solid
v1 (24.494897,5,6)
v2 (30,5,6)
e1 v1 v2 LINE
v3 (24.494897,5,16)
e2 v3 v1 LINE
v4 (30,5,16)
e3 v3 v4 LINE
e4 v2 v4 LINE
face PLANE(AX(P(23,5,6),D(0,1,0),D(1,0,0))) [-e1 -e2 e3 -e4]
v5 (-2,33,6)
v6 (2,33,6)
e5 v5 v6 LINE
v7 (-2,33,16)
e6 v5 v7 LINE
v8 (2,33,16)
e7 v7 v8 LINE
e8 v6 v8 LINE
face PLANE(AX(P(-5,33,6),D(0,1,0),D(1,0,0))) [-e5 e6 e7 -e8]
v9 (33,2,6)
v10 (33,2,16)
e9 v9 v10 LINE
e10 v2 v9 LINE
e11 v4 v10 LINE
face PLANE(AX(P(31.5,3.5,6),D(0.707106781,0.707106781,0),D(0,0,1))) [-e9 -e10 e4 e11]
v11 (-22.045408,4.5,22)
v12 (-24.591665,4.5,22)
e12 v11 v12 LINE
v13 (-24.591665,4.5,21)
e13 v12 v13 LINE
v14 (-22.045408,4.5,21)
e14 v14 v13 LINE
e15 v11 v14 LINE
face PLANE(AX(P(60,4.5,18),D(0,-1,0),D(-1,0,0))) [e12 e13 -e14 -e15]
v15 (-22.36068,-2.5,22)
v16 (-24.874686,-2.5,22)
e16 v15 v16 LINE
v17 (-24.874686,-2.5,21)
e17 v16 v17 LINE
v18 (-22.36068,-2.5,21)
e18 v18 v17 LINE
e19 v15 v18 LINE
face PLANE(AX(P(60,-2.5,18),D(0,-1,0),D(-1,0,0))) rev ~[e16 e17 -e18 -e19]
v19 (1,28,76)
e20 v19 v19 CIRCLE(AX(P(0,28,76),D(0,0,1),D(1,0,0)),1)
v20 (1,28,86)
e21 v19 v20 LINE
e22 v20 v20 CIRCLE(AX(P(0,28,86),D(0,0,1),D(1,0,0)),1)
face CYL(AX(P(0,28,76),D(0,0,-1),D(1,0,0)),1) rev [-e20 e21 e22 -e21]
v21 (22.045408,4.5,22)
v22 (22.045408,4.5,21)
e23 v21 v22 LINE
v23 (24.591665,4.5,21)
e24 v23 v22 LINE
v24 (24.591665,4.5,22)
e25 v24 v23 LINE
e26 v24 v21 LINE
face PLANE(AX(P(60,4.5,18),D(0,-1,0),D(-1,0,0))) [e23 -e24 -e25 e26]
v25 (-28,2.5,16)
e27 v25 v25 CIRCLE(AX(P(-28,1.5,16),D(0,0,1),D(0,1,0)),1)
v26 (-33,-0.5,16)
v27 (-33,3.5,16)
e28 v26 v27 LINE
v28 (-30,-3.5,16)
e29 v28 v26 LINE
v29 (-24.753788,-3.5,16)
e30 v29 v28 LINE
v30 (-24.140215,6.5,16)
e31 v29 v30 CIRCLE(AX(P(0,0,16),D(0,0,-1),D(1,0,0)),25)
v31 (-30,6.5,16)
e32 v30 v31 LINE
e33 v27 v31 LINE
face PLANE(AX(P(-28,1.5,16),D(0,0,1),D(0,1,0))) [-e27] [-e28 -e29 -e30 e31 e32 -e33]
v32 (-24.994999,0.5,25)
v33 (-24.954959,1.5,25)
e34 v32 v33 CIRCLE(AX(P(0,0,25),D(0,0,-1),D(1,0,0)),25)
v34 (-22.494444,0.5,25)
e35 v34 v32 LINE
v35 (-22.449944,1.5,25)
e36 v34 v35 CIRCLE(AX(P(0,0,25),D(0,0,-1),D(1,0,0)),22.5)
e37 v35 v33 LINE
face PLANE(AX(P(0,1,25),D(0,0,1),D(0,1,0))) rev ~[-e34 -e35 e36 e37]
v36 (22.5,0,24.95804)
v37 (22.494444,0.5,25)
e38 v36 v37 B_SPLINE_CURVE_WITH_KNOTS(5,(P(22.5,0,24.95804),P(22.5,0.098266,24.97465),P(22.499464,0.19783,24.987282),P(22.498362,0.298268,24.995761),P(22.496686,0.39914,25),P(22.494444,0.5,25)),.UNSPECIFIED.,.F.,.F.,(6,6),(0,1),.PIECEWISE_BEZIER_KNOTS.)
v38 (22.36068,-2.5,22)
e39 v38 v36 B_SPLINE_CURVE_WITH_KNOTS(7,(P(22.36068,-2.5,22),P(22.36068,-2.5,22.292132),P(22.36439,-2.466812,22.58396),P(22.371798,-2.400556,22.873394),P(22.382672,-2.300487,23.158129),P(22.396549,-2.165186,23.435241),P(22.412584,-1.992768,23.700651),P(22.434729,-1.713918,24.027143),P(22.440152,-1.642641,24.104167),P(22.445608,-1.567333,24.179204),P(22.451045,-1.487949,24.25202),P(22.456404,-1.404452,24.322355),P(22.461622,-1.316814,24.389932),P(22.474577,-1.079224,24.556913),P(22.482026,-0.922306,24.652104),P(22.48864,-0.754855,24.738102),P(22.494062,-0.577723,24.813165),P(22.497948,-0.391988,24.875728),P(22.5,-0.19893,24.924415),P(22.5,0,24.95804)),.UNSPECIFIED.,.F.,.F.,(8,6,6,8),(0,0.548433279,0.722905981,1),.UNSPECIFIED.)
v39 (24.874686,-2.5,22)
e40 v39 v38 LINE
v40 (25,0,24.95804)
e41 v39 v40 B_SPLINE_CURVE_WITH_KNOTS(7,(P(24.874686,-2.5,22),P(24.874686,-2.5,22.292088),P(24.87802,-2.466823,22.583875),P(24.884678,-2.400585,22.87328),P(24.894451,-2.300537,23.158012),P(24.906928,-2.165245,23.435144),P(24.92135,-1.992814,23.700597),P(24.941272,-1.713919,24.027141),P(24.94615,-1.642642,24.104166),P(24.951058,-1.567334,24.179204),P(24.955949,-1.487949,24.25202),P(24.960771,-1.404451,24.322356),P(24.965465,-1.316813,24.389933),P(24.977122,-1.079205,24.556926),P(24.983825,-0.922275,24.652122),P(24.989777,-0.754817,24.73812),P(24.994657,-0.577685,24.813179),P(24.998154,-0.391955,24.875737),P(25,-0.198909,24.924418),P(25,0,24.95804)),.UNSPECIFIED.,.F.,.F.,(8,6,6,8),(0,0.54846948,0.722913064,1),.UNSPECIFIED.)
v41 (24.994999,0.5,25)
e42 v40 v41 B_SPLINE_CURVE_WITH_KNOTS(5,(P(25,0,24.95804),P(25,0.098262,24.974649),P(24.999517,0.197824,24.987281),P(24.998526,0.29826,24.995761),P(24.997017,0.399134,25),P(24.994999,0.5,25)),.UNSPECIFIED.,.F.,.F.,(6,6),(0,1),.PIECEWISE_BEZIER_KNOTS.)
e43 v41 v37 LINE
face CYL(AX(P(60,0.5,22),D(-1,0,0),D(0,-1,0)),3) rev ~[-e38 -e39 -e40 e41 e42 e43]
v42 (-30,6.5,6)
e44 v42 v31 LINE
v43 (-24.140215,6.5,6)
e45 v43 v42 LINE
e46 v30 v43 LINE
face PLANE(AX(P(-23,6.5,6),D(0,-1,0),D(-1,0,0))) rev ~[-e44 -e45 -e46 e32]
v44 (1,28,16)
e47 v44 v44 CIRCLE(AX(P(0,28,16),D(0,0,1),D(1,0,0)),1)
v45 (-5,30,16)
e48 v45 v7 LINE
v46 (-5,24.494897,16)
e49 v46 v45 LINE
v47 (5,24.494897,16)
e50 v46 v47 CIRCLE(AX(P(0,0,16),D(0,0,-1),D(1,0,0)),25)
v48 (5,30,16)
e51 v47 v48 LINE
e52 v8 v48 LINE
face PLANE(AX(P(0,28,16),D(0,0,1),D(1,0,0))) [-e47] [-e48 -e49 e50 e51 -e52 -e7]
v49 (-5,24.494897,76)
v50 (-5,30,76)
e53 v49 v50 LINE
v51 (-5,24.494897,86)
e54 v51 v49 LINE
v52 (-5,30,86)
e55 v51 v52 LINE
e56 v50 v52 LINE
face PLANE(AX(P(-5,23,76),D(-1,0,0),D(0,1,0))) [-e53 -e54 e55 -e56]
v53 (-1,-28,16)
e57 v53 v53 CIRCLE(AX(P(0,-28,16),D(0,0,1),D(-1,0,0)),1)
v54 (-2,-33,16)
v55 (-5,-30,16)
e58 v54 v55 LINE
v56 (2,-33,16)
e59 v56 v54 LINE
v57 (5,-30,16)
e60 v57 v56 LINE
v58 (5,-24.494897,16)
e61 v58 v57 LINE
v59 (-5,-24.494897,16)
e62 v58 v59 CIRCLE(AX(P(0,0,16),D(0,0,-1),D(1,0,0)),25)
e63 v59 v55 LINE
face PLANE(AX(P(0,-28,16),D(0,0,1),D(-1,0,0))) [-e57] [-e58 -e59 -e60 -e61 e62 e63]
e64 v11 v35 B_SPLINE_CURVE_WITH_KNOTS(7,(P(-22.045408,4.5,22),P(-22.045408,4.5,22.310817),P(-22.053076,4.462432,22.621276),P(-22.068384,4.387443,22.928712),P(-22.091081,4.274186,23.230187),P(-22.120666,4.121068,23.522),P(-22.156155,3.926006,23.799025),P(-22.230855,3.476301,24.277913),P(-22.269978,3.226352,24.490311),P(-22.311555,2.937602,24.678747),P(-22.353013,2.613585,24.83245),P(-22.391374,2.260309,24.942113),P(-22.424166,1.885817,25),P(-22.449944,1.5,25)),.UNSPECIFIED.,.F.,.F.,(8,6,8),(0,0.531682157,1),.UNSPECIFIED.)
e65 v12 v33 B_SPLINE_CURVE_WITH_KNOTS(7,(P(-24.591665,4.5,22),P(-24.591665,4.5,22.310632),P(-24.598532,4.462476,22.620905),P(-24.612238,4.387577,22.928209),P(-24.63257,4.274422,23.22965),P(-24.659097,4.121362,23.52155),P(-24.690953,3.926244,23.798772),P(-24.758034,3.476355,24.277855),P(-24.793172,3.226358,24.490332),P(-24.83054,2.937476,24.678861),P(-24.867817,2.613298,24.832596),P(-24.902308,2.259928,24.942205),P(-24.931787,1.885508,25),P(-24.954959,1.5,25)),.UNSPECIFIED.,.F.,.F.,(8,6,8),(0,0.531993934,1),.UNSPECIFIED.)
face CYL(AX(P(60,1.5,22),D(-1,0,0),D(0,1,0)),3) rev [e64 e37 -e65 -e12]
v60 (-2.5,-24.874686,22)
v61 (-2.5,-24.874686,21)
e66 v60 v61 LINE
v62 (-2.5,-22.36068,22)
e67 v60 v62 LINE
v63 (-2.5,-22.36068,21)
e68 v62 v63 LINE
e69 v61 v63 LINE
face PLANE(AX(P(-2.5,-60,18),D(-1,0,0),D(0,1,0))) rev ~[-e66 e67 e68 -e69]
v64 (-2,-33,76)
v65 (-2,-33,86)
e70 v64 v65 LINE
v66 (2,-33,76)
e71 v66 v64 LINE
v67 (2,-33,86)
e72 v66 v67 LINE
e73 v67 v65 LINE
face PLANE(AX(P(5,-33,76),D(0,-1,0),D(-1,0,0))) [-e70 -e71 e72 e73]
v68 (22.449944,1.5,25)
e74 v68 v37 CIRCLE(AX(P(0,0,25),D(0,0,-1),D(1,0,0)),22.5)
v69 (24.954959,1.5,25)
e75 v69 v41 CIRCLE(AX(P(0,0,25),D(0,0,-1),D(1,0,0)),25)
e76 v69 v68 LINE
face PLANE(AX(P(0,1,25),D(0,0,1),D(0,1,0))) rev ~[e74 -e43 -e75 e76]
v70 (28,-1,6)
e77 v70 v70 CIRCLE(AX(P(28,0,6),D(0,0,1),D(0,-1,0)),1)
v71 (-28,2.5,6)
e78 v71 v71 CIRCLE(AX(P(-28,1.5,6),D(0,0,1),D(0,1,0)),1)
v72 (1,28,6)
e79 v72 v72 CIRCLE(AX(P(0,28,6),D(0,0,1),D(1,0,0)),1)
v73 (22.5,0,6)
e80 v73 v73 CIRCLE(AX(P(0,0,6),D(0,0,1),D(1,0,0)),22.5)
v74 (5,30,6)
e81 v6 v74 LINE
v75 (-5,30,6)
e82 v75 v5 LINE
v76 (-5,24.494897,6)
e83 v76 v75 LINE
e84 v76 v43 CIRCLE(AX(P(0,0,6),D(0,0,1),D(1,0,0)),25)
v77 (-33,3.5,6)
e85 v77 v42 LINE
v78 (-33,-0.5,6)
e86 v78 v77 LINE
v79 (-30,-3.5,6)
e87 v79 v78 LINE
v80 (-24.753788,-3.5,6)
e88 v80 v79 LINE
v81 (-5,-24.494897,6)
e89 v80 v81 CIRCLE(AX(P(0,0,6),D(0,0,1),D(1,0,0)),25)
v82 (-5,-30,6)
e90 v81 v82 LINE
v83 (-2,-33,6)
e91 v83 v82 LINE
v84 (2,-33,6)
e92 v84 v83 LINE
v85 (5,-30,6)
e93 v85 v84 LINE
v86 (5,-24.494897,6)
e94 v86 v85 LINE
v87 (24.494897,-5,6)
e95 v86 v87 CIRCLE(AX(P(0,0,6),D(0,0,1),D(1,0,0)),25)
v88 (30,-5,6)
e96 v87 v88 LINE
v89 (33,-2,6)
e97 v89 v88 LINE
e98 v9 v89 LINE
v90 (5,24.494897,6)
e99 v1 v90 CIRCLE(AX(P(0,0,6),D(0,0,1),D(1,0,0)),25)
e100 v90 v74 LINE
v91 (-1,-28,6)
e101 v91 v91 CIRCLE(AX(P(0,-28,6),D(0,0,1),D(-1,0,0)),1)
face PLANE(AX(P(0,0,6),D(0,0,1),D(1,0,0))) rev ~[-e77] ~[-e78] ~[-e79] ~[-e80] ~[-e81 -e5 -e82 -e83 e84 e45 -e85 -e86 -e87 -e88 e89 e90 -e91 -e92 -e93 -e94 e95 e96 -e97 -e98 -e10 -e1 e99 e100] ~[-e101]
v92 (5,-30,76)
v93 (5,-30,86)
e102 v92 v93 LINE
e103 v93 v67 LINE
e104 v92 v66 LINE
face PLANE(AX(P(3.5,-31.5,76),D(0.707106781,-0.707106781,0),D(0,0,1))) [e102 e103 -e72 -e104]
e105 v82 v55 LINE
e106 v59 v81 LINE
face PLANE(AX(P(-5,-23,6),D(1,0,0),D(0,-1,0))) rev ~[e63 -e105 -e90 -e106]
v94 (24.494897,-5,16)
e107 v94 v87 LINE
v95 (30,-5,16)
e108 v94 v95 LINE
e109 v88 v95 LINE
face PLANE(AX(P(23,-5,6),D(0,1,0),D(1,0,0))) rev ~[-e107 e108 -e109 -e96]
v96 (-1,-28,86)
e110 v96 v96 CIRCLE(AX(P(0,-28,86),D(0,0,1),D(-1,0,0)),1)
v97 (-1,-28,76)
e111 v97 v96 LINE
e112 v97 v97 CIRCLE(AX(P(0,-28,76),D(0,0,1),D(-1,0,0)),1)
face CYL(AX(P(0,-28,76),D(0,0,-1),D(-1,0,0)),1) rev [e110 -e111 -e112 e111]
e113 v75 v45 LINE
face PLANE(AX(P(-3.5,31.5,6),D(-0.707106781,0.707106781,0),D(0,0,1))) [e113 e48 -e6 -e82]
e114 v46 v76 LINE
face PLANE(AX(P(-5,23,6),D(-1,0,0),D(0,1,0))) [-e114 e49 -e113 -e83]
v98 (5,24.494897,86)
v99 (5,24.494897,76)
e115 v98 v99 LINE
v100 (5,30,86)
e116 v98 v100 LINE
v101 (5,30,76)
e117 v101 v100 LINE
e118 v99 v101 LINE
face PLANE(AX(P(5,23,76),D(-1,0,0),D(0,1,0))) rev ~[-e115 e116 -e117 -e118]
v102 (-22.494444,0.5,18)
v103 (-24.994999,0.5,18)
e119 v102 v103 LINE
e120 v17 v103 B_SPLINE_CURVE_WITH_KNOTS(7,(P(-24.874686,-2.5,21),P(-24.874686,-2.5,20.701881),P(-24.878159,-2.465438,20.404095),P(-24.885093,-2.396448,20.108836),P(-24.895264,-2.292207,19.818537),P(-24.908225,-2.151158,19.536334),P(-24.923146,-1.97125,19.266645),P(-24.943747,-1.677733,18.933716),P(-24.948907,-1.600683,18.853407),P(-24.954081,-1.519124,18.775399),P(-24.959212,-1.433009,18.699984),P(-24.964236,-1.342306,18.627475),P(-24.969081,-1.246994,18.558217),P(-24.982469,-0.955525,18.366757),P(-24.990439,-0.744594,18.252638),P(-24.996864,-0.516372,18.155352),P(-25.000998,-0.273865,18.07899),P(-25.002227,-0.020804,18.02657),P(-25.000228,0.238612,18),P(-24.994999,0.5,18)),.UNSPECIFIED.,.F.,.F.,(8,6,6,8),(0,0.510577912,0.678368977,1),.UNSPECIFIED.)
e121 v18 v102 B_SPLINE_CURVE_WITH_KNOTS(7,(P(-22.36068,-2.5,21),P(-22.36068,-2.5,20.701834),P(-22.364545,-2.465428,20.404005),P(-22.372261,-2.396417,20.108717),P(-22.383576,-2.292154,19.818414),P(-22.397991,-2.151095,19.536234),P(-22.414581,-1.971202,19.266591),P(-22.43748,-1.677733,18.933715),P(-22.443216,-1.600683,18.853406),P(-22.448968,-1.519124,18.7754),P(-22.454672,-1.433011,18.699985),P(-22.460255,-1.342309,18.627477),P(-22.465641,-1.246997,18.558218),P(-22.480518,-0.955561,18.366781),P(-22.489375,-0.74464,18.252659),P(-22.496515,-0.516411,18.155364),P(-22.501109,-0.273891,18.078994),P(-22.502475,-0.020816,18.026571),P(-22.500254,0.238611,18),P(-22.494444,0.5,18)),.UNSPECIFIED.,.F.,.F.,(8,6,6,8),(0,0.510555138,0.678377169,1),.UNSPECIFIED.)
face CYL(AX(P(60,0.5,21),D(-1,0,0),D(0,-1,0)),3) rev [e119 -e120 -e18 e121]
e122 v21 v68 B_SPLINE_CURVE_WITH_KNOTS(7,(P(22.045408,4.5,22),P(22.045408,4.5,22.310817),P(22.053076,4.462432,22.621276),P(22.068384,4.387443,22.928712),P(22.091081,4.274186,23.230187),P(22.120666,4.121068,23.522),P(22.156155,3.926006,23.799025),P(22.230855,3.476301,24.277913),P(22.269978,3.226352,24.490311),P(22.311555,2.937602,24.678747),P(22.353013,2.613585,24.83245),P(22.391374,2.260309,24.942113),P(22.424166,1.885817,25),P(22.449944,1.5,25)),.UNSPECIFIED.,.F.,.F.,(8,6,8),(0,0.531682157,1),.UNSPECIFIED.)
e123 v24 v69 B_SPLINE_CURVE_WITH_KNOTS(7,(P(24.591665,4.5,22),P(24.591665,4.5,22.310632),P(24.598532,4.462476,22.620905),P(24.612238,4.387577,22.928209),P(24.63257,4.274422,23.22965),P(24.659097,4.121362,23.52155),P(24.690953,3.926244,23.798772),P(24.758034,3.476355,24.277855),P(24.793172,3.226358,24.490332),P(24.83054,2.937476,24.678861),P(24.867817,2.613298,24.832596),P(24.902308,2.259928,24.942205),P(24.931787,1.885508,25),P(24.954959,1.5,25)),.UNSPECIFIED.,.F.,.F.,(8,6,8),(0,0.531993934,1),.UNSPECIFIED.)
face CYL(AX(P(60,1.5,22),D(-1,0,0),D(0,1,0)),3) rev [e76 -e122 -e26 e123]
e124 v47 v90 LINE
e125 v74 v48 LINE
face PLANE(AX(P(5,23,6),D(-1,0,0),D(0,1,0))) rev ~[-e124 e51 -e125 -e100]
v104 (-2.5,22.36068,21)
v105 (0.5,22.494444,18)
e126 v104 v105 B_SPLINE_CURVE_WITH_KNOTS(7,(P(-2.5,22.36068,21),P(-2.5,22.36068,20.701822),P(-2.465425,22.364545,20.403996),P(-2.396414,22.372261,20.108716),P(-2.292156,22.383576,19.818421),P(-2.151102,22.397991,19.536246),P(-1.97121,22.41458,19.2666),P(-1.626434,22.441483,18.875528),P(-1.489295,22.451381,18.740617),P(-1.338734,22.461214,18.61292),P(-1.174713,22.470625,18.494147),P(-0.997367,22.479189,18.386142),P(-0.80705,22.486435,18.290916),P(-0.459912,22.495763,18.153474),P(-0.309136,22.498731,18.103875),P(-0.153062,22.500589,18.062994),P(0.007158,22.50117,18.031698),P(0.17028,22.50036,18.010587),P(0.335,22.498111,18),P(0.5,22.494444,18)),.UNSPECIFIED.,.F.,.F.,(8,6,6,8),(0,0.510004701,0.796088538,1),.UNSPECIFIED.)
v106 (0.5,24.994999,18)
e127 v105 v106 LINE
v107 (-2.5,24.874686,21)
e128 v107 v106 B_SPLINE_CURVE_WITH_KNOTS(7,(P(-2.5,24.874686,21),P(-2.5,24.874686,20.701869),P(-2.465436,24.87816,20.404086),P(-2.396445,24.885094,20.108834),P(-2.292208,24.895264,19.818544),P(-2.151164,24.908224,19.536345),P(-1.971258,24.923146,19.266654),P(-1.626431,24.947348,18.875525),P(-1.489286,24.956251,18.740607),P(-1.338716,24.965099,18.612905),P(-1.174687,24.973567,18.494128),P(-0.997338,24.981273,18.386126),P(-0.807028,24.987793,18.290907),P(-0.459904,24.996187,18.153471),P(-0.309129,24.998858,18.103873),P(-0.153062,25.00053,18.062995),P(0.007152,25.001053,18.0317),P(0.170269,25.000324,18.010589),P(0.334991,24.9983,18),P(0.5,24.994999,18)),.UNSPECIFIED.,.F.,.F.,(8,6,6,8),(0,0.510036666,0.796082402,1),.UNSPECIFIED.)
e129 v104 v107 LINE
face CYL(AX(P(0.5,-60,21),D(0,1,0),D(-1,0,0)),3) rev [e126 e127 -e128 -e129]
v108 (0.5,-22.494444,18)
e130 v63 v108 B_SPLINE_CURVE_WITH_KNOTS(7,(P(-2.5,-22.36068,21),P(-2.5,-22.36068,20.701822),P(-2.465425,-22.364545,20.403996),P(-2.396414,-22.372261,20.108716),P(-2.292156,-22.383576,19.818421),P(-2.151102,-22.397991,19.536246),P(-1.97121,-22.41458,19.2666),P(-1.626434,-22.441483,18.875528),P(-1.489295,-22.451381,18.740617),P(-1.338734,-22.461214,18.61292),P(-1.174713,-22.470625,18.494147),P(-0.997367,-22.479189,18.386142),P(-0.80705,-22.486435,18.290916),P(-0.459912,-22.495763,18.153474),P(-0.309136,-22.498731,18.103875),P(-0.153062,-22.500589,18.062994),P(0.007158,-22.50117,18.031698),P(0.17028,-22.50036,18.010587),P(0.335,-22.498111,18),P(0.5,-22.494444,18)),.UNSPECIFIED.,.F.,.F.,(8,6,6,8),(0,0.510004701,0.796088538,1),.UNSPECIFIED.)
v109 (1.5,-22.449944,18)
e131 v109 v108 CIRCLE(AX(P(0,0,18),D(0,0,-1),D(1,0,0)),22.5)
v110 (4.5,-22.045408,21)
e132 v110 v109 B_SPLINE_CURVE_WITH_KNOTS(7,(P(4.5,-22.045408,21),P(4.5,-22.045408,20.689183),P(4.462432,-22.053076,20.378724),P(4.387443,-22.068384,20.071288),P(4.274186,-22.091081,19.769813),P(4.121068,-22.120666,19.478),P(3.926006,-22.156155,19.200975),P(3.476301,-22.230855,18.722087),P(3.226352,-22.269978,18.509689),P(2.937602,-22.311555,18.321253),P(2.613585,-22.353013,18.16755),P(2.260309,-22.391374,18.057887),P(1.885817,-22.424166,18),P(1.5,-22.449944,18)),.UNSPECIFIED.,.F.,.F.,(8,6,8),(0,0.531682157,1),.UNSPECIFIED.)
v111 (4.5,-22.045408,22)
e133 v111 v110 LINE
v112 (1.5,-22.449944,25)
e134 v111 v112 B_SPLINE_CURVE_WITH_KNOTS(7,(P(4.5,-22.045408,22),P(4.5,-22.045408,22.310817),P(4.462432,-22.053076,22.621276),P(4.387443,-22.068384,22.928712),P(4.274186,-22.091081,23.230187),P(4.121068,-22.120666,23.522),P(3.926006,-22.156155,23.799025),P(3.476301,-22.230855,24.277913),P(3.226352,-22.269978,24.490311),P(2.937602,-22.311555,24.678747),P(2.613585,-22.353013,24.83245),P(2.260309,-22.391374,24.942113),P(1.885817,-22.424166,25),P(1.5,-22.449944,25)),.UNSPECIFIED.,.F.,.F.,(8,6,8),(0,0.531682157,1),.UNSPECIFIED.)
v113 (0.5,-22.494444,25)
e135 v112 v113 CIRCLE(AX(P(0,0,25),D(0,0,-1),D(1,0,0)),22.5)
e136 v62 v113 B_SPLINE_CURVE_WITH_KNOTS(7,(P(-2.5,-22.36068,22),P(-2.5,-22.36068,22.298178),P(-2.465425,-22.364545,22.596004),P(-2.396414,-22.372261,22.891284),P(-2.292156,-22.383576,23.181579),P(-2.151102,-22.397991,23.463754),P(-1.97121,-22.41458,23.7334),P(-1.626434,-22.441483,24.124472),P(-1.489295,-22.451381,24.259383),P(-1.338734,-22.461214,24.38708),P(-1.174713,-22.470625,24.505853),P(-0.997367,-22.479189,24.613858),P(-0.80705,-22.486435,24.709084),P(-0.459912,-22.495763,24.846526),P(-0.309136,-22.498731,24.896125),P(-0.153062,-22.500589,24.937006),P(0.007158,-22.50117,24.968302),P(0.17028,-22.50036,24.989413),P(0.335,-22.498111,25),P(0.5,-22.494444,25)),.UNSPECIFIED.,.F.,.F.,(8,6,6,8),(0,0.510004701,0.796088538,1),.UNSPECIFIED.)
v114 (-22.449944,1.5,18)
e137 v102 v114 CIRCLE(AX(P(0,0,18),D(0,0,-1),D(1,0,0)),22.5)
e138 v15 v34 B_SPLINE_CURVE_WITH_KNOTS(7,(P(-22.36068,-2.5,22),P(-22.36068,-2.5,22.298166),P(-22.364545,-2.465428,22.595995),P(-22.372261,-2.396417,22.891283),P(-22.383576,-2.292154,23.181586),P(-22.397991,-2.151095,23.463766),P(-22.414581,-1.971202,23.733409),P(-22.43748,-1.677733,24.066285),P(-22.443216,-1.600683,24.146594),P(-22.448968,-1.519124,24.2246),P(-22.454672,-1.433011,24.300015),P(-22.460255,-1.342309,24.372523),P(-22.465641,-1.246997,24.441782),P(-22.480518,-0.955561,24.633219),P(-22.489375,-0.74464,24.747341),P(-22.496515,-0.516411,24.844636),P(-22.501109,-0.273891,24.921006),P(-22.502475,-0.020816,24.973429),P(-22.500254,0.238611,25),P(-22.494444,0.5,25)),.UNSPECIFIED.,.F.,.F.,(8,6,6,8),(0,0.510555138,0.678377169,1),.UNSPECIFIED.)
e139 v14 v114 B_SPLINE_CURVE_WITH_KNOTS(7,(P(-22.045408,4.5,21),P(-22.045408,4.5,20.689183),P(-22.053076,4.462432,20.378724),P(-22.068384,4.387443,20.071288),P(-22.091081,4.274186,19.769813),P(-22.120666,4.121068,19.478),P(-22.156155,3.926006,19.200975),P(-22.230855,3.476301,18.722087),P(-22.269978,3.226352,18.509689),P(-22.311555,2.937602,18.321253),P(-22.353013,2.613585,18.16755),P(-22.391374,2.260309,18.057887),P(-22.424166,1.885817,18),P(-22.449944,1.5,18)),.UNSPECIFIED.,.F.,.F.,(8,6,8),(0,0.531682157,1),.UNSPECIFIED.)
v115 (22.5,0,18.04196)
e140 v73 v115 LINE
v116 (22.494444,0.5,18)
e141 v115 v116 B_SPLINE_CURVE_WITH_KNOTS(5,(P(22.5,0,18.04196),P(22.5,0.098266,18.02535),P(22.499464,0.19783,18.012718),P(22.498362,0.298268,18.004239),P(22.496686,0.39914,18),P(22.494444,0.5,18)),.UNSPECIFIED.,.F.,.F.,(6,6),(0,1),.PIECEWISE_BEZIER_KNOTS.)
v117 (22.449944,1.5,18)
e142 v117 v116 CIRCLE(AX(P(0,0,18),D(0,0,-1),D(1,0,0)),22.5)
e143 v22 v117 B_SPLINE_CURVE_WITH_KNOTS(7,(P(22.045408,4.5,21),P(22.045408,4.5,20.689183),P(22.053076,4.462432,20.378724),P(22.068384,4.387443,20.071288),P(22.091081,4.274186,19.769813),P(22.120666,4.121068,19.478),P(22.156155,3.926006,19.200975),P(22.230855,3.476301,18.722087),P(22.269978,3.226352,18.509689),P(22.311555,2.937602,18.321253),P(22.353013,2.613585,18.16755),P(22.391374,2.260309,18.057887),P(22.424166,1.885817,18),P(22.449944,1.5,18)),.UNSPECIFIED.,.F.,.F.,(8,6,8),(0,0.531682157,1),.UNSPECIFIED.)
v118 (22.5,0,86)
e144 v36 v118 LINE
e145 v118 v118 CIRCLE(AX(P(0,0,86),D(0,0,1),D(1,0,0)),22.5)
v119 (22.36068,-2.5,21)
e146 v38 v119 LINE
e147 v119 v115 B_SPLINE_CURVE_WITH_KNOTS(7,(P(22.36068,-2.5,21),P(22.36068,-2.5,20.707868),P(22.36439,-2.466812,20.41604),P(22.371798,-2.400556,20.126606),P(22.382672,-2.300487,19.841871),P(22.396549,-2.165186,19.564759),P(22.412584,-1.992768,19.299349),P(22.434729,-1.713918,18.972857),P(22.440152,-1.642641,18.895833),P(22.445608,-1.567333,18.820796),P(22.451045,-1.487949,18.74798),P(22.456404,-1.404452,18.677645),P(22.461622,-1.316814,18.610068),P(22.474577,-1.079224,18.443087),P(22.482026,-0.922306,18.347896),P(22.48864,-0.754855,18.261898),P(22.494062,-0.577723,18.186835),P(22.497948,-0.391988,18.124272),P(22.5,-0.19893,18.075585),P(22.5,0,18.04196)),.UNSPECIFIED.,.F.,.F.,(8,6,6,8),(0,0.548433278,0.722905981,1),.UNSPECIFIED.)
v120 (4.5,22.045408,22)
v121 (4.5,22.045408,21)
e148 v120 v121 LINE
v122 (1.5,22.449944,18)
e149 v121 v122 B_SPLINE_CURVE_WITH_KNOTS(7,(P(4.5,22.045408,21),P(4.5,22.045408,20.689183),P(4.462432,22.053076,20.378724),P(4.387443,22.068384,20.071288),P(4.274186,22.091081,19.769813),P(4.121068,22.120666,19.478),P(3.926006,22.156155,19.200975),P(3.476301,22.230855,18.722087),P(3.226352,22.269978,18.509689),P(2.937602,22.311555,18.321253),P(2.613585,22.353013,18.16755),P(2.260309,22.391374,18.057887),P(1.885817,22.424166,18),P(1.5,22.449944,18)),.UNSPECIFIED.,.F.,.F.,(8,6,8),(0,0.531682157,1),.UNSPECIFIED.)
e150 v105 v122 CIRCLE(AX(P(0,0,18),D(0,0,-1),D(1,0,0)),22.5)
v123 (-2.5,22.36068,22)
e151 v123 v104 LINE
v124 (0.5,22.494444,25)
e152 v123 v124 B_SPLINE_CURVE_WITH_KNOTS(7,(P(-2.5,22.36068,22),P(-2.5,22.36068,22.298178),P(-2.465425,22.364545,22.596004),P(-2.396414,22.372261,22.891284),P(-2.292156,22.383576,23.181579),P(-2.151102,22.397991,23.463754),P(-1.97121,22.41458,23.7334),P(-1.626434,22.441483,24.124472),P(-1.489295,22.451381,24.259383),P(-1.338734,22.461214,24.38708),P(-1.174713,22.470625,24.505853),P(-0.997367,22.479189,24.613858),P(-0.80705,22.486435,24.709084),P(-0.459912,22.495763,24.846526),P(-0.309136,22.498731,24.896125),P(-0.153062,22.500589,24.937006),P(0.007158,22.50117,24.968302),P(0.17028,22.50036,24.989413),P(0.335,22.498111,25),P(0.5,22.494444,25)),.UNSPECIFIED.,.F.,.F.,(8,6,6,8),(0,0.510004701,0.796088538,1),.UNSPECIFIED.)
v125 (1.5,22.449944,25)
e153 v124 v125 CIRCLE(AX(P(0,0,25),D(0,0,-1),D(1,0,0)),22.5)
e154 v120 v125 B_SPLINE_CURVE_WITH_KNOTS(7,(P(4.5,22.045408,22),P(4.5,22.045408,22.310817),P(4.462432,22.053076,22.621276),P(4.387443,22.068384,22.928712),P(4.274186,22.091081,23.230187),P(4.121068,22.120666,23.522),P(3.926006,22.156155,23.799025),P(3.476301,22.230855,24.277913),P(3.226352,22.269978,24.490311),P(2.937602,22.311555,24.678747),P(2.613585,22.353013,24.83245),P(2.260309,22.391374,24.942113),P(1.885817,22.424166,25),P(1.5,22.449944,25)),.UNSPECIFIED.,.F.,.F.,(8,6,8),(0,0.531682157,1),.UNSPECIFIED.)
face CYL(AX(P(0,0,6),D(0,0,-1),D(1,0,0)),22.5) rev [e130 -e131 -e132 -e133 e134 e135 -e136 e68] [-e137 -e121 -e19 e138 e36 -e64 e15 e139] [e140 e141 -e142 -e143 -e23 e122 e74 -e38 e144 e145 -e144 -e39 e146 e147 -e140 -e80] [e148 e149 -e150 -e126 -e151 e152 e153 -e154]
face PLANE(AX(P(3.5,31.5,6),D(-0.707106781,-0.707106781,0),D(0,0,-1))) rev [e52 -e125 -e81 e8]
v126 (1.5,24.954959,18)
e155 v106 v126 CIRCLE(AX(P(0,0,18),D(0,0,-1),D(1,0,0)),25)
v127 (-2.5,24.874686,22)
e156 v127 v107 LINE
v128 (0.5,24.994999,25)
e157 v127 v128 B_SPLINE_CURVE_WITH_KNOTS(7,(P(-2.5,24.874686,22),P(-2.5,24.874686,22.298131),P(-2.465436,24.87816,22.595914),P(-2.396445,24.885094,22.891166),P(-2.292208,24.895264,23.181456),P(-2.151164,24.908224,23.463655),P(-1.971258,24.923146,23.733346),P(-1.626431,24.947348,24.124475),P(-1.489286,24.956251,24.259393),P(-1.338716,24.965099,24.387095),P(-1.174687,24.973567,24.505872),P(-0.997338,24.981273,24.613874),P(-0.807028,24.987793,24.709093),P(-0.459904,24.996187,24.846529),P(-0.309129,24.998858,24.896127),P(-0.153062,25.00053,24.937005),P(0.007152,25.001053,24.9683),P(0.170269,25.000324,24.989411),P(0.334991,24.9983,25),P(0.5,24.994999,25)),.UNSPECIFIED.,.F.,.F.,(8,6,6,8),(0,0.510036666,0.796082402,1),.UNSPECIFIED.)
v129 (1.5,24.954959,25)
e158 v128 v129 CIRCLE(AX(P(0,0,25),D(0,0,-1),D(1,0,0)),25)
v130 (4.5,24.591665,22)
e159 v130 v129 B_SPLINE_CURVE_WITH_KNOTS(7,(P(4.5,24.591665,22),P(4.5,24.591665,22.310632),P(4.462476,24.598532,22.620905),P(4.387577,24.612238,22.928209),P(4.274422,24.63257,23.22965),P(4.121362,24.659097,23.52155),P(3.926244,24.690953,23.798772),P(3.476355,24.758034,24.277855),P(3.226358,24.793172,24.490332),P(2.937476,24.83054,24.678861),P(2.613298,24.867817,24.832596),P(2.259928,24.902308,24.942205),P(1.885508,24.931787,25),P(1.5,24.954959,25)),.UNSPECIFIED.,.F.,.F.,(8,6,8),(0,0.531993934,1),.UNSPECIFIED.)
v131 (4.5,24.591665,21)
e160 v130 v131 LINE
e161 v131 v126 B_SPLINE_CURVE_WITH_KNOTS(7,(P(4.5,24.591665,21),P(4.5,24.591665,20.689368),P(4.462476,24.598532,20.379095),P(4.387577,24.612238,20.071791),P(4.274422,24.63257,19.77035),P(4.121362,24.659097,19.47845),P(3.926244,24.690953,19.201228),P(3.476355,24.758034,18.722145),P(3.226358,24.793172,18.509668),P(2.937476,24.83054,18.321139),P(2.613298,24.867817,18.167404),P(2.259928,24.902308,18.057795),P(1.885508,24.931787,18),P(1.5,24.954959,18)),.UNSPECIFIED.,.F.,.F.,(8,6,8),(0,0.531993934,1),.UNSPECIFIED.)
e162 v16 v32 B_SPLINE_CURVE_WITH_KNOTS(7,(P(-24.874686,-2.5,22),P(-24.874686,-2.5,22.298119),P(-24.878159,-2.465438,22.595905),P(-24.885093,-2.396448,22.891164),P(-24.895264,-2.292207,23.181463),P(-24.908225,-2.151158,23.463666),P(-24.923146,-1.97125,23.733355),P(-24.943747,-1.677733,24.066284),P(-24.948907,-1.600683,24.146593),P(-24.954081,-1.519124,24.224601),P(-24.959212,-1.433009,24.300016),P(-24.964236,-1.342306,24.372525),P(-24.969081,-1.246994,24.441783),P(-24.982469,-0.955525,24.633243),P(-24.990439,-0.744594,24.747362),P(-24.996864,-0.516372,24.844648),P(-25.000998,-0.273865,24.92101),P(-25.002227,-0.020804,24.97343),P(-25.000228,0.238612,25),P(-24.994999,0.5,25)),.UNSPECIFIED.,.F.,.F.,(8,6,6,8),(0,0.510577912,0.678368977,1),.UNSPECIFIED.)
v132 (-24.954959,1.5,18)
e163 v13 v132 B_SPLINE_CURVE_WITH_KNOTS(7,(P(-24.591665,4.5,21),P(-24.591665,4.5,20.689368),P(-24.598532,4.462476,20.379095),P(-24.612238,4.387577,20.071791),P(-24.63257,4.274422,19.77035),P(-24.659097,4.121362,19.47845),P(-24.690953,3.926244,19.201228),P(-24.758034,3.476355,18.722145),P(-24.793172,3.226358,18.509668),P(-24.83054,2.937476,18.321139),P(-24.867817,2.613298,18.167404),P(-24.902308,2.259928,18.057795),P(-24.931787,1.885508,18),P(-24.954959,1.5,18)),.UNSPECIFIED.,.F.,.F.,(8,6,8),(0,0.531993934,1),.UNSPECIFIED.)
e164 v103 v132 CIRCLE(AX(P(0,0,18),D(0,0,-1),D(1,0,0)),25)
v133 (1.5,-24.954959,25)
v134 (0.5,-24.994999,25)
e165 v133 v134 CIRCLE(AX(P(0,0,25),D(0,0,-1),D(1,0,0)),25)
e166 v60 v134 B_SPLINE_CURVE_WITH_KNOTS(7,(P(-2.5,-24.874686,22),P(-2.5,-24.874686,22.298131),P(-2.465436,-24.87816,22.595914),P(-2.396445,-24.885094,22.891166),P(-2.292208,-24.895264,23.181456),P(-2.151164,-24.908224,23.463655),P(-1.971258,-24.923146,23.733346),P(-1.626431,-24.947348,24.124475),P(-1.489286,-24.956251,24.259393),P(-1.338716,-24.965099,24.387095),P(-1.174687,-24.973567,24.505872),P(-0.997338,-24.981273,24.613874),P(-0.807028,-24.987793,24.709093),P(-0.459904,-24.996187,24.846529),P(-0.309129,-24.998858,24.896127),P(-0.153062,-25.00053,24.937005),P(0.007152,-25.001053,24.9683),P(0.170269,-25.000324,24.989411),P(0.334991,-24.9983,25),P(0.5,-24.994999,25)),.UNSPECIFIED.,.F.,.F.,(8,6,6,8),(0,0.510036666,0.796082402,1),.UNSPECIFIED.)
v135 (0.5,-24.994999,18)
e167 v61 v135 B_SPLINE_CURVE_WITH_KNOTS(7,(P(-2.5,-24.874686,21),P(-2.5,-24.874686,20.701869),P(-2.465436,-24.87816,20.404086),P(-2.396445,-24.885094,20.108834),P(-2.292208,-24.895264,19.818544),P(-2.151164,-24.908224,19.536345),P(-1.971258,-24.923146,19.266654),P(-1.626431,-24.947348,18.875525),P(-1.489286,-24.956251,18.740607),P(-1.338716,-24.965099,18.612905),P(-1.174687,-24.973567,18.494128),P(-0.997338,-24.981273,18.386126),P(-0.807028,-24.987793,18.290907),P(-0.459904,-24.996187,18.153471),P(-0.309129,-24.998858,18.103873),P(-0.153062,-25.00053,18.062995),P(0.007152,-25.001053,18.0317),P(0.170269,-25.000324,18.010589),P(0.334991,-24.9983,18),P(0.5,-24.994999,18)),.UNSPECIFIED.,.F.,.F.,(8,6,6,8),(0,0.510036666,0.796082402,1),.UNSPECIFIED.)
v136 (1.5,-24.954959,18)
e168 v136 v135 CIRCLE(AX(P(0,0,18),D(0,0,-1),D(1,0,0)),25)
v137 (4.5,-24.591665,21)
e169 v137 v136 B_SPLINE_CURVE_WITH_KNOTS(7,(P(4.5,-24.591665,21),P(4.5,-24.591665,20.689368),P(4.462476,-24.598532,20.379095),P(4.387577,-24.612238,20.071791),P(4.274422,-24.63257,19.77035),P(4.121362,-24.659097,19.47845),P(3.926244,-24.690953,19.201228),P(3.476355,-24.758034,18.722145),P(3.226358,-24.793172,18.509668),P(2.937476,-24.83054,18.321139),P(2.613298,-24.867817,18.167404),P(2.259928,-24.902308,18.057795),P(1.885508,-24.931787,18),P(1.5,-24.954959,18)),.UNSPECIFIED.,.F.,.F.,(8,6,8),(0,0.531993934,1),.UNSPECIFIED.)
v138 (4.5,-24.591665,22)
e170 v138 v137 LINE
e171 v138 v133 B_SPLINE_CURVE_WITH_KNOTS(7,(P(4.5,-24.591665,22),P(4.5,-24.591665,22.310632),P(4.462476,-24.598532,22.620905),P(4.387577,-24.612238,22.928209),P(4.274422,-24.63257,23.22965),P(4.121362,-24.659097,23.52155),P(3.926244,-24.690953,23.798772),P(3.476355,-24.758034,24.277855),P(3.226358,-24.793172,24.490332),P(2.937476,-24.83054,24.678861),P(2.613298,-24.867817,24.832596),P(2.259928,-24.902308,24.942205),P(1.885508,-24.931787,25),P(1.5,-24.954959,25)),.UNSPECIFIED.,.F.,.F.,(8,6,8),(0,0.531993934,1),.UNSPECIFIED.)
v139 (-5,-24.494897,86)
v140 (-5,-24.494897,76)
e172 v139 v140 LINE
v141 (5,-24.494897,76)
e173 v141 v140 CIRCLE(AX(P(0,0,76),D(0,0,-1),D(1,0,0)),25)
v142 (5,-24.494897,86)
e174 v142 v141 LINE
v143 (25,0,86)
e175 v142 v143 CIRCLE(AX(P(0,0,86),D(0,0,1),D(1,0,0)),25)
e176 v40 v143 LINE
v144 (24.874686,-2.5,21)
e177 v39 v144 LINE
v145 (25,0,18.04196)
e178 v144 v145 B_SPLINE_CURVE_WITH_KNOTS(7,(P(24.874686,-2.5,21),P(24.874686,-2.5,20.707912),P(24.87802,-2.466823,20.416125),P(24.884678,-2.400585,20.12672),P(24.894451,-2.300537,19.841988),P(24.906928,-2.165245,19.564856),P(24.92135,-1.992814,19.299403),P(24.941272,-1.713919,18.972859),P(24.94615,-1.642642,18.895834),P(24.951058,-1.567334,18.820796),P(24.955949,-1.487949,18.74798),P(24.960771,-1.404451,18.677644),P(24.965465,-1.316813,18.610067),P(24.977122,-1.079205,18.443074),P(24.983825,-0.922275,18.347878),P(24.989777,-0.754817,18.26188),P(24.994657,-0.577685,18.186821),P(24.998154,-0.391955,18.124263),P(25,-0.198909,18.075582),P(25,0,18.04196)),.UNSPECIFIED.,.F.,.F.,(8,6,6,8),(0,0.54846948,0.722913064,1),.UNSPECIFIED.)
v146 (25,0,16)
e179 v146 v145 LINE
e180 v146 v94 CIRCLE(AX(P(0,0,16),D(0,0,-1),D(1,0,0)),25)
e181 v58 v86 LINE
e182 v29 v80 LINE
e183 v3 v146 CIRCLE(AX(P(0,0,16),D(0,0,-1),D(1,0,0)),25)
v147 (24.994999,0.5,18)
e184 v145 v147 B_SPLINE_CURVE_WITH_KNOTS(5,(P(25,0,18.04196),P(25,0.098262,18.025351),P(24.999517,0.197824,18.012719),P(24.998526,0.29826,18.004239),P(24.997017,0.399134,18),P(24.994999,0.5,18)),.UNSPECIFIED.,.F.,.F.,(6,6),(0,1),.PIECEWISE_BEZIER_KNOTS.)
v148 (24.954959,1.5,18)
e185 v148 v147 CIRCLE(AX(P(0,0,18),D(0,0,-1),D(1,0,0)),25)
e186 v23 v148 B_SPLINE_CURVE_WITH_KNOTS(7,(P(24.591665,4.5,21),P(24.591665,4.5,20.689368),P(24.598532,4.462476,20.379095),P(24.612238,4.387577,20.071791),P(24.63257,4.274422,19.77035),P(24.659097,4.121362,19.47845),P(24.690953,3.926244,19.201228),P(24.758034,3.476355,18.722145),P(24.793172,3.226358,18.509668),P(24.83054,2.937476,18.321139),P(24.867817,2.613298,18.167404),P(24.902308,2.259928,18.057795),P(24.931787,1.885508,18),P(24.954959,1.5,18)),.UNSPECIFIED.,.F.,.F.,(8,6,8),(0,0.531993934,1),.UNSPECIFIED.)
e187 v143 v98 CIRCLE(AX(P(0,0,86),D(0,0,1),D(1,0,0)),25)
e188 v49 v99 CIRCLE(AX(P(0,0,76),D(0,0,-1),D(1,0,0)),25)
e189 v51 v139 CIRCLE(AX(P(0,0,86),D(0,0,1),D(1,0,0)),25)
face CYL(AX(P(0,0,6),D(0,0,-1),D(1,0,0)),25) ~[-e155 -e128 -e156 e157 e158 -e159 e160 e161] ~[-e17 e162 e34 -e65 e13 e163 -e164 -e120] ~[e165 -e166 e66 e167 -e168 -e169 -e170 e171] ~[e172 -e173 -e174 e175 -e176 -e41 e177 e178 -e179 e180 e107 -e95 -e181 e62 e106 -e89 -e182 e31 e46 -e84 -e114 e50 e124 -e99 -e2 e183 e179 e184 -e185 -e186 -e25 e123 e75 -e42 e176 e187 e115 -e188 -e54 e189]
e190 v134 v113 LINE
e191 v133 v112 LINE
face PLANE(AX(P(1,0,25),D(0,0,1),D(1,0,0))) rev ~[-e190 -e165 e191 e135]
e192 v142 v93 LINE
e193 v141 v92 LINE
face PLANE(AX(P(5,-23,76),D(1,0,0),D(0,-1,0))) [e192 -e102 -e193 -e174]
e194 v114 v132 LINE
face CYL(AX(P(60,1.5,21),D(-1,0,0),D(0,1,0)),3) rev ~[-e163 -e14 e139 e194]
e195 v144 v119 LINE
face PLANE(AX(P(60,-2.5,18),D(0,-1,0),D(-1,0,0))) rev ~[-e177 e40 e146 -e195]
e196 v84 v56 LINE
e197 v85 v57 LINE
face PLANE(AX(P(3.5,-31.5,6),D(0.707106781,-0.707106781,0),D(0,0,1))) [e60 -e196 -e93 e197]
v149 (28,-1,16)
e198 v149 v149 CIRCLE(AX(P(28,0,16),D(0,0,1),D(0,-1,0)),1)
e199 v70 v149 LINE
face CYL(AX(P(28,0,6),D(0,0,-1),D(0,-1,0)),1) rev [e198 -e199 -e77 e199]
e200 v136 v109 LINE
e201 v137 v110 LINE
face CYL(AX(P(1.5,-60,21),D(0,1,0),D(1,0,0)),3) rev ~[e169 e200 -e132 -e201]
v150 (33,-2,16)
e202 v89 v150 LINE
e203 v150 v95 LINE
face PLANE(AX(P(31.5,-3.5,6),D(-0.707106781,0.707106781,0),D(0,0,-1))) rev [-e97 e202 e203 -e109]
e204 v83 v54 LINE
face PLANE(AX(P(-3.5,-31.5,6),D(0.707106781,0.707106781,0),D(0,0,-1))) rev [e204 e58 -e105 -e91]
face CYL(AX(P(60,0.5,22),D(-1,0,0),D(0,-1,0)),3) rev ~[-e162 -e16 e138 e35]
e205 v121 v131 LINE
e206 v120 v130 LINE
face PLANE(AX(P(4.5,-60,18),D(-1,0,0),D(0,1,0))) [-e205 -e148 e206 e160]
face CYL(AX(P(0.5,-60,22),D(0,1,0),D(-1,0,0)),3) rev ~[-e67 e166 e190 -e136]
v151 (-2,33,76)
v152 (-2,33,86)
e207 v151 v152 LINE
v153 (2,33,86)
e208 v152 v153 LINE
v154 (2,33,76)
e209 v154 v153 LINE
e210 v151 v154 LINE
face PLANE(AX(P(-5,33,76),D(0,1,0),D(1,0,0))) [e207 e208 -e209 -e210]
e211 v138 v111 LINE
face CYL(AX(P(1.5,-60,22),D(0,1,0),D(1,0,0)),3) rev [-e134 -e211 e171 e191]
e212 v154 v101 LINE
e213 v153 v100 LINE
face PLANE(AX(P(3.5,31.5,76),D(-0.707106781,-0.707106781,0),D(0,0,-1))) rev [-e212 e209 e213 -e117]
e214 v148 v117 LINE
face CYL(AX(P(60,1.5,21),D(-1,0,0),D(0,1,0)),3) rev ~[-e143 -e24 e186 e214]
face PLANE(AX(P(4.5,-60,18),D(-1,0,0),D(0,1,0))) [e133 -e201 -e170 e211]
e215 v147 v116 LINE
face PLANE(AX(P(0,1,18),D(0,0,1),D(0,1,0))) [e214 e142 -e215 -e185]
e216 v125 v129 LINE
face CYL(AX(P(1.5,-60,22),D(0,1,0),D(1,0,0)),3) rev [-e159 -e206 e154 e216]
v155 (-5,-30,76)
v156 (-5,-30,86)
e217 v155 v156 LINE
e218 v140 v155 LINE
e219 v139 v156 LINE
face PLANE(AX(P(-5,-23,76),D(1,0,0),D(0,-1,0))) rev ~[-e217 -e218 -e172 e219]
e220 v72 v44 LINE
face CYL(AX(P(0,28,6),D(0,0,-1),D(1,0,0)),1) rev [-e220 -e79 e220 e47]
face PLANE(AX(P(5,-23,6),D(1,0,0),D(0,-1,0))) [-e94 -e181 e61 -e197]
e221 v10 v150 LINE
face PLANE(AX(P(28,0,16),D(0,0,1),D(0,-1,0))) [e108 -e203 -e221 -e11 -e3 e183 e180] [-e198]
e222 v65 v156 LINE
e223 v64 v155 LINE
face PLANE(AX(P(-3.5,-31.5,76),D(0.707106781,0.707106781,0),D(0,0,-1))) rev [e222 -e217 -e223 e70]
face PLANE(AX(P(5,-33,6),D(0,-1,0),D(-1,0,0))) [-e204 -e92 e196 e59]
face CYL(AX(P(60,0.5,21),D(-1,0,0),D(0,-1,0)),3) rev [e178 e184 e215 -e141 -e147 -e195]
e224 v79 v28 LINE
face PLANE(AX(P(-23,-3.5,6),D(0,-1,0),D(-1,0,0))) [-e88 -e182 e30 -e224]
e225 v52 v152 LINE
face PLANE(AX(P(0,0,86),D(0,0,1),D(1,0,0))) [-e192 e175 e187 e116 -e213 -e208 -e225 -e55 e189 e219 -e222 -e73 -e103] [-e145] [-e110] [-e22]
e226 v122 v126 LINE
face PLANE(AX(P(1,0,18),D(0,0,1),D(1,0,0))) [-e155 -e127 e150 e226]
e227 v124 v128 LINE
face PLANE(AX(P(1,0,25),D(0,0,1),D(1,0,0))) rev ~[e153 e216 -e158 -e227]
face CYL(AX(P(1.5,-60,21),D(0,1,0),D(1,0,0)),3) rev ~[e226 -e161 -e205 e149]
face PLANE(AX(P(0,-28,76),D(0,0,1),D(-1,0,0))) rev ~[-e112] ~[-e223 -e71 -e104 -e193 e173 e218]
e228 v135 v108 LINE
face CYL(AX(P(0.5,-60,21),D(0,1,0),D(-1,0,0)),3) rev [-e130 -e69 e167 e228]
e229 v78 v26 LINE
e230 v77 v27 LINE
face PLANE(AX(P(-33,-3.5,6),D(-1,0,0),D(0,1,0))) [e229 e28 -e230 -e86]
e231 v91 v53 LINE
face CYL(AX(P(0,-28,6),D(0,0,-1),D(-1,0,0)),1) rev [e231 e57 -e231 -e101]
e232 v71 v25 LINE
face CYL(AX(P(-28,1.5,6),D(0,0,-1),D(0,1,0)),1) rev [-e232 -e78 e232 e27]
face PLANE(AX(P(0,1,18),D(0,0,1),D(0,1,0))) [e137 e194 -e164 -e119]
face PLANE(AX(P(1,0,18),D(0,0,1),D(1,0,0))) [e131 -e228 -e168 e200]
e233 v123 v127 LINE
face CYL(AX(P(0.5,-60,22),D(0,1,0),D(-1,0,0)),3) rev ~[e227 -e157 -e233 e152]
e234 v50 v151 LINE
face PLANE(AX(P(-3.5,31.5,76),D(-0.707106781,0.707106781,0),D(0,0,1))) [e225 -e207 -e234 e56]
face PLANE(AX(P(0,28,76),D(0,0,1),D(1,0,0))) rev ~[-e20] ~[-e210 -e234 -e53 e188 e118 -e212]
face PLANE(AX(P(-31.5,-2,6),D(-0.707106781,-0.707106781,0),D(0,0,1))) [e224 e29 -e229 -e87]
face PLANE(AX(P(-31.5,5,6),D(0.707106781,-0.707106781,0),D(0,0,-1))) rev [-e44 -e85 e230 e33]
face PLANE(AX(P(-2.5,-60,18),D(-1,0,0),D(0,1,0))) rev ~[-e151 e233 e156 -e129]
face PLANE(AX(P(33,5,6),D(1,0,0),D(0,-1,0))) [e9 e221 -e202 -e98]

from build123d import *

# Parameters (mm, degrees)
CYLINDER019_R              = 1
CYLINDER019_DEPTH          = 10
BOX007_W                   = 10
BOX007_H                   = 10
BOX007_DEPTH               = 10
CHAMFER004_SIZE            = 3
CHAMFER004_PLACEMENT_ANGLE = -90
CYLINDER015_R              = 1
CYLINDER015_DEPTH          = 10
BOX002_W                   = 10
BOX002_H                   = 10
BOX002_DEPTH               = 10
CHAMFER_SIZE               = 3
CYLINDER017_R              = 1
CYLINDER017_DEPTH          = 10
BOX005_W                   = 10
BOX005_H                   = 10
BOX005_DEPTH               = 10
CHAMFER002_SIZE            = 3
CYLINDER018_R              = 1
CYLINDER018_DEPTH          = 10
BOX006_W                   = 10
BOX006_H                   = 10
BOX006_DEPTH               = 10
CHAMFER003_SIZE            = 3
CHAMFER003_PLACEMENT_ANGLE = 90
CYLINDER020_R              = 1
CYLINDER020_DEPTH          = 10
BOX008_W                   = 10
BOX008_H                   = 10
BOX008_DEPTH               = 10
CHAMFER005_SIZE            = 3
CHAMFER005_PLACEMENT_ANGLE = 180
CYLINDER_R                 = 1
CYLINDER_DEPTH             = 10
BOX004_W                   = 10
BOX004_H                   = 10
BOX004_DEPTH               = 10
CHAMFER001_SIZE            = 3
CHAMFER001_PLACEMENT_ANGLE = 180
BOX001_W                   = 7
BOX001_H                   = 120
BOX001_DEPTH               = 7
BOX001_PLACEMENT_ANGLE     = 90
FILLET_R                   = 3
BOX_W                      = 7
BOX_H                      = 120
BOX_DEPTH                  = 7
FILLET001_R                = 3
CYLINDER009_R              = 22.5
CYLINDER009_DEPTH          = 80
CYLINDER008_R              = 25
CYLINDER008_DEPTH          = 80


with BuildPart() as cylindre020:
    # Cylinder019 → Cylinder019 (new body)
    with BuildSketch(Plane(origin=(5, 5, 0), x_dir=(1, 0, 0), z_dir=(0, 0, 1))):
        Circle(CYLINDER019_R)
    extrude(amount=CYLINDER019_DEPTH)


with BuildPart() as chamfer004:
    # Box007 → Box007 (new body)
    with BuildSketch(Plane.XY):
        with Locations((5, 5)):
            Rectangle(BOX007_W, BOX007_H)
    extrude(amount=BOX007_DEPTH)

    # Cut018: cut Cylindre020
    add(cylindre020.part, mode=Mode.SUBTRACT)


with BuildPart() as chamfer004_1:
    # Cut018 placement: moved
    add(chamfer004.part.moved(Location((-5, 48, 70))))

    # Chamfer004
    chamfer004_edges = [chamfer004_1.edges().sort_by_distance(p)[0] for p in [
        (-5, 58, 75),
        (5, 58, 75),
    ]]
    chamfer(chamfer004_edges, length=CHAMFER004_SIZE)


with BuildPart() as chamfer004_2:
    # Chamfer004 placement: moved
    add(chamfer004_1.part.moved(Location((-25, 0, -70))).rotate(Axis((-25, 0, -70), (0, 0, 1)), CHAMFER004_PLACEMENT_ANGLE))


with BuildPart() as cylindre:
    # Cylinder015 → Cylinder015 (new body)
    with BuildSketch(Plane(origin=(5, 5, 0), x_dir=(1, 0, 0), z_dir=(0, 0, 1))):
        Circle(CYLINDER015_R)
    extrude(amount=CYLINDER015_DEPTH)


with BuildPart() as chamfer_body:
    # Box002 → Box002 (new body)
    with BuildSketch(Plane.XY):
        with Locations((5, 5)):
            Rectangle(BOX002_W, BOX002_H)
    extrude(amount=BOX002_DEPTH)

    # Cut014: cut Cylindre
    add(cylindre.part, mode=Mode.SUBTRACT)


with BuildPart() as chamfer_body_1:
    # Cut014 placement: moved
    add(chamfer_body.part.moved(Location((-5, 48, 70))))

    # Chamfer
    chamfer_edges = [chamfer_body_1.edges().sort_by_distance(p)[0] for p in [
        (-5, 58, 75),
        (5, 58, 75),
    ]]
    chamfer(chamfer_edges, length=CHAMFER_SIZE)


with BuildPart() as chamfer_body_2:
    # Chamfer placement: moved
    add(chamfer_body_1.part.moved(Location((0, -25, 0))))


with BuildPart() as cylindre018:
    # Cylinder017 → Cylinder017 (new body)
    with BuildSketch(Plane(origin=(5, 5, 0), x_dir=(1, 0, 0), z_dir=(0, 0, 1))):
        Circle(CYLINDER017_R)
    extrude(amount=CYLINDER017_DEPTH)


with BuildPart() as chamfer002:
    # Box005 → Box005 (new body)
    with BuildSketch(Plane.XY):
        with Locations((5, 5)):
            Rectangle(BOX005_W, BOX005_H)
    extrude(amount=BOX005_DEPTH)

    # Cut016: cut Cylindre018
    add(cylindre018.part, mode=Mode.SUBTRACT)


with BuildPart() as chamfer002_1:
    # Cut016 placement: moved
    add(chamfer002.part.moved(Location((-5, 48, 70))))

    # Chamfer002
    chamfer002_edges = [chamfer002_1.edges().sort_by_distance(p)[0] for p in [
        (-5, 58, 75),
        (5, 58, 75),
    ]]
    chamfer(chamfer002_edges, length=CHAMFER002_SIZE)


with BuildPart() as chamfer002_2:
    # Chamfer002 placement: moved
    add(chamfer002_1.part.moved(Location((0, -25, -70))))


with BuildPart() as cylindre019:
    # Cylinder018 → Cylinder018 (new body)
    with BuildSketch(Plane(origin=(5, 5, 0), x_dir=(1, 0, 0), z_dir=(0, 0, 1))):
        Circle(CYLINDER018_R)
    extrude(amount=CYLINDER018_DEPTH)


with BuildPart() as chamfer003:
    # Box006 → Box006 (new body)
    with BuildSketch(Plane.XY):
        with Locations((5, 5)):
            Rectangle(BOX006_W, BOX006_H)
    extrude(amount=BOX006_DEPTH)

    # Cut017: cut Cylindre019
    add(cylindre019.part, mode=Mode.SUBTRACT)


with BuildPart() as chamfer003_1:
    # Cut017 placement: moved
    add(chamfer003.part.moved(Location((-5, 48, 70))))

    # Chamfer003
    chamfer003_edges = [chamfer003_1.edges().sort_by_distance(p)[0] for p in [
        (-5, 58, 75),
        (5, 58, 75),
    ]]
    chamfer(chamfer003_edges, length=CHAMFER003_SIZE)


with BuildPart() as chamfer003_2:
    # Chamfer003 placement: moved
    add(chamfer003_1.part.moved(Location((25, 1.5, -70))).rotate(Axis((25, 1.5, -70), (0, 0, 1)), CHAMFER003_PLACEMENT_ANGLE))


with BuildPart() as cylindre021:
    # Cylinder020 → Cylinder020 (new body)
    with BuildSketch(Plane(origin=(5, 5, 0), x_dir=(1, 0, 0), z_dir=(0, 0, 1))):
        Circle(CYLINDER020_R)
    extrude(amount=CYLINDER020_DEPTH)


with BuildPart() as chamfer005:
    # Box008 → Box008 (new body)
    with BuildSketch(Plane.XY):
        with Locations((5, 5)):
            Rectangle(BOX008_W, BOX008_H)
    extrude(amount=BOX008_DEPTH)

    # Cut019: cut Cylindre021
    add(cylindre021.part, mode=Mode.SUBTRACT)


with BuildPart() as chamfer005_1:
    # Cut019 placement: moved
    add(chamfer005.part.moved(Location((-5, 48, 70))))

    # Chamfer005
    chamfer005_edges = [chamfer005_1.edges().sort_by_distance(p)[0] for p in [
        (-5, 58, 75),
        (5, 58, 75),
    ]]
    chamfer(chamfer005_edges, length=CHAMFER005_SIZE)


with BuildPart() as chamfer005_2:
    # Chamfer005 placement: moved
    add(chamfer005_1.part.moved(Location((0, 25, -70))).rotate(Axis((0, 25, -70), (0, 0, 1)), CHAMFER005_PLACEMENT_ANGLE))


with BuildPart() as cylindre017:
    # Cylinder → Cylinder (new body)
    with BuildSketch(Plane(origin=(5, 5, 0), x_dir=(1, 0, 0), z_dir=(0, 0, 1))):
        Circle(CYLINDER_R)
    extrude(amount=CYLINDER_DEPTH)


with BuildPart() as visses:
    # Box004 → Box004 (new body)
    with BuildSketch(Plane.XY):
        with Locations((5, 5)):
            Rectangle(BOX004_W, BOX004_H)
    extrude(amount=BOX004_DEPTH)

    # Cut015: cut Cylindre017
    add(cylindre017.part, mode=Mode.SUBTRACT)


with BuildPart() as visses_1:
    # Cut015 placement: moved
    add(visses.part.moved(Location((-5, 48, 70))))

    # Chamfer001
    chamfer001_edges = [visses_1.edges().sort_by_distance(p)[0] for p in [
        (-5, 58, 75),
        (5, 58, 75),
    ]]
    chamfer(chamfer001_edges, length=CHAMFER001_SIZE)


with BuildPart() as visses_2:
    # Chamfer001 placement: moved
    add(visses_1.part.moved(Location((0, 25, 0))).rotate(Axis((0, 25, 0), (0, 0, 1)), CHAMFER001_PLACEMENT_ANGLE))

    # Fusion: union Chamfer004, Chamfer body, Chamfer002, Chamfer003, Chamfer005
    add(chamfer004_2.part)
    add(chamfer_body_2.part)
    add(chamfer002_2.part)
    add(chamfer003_2.part)
    add(chamfer005_2.part)


with BuildPart() as fillet_body:
    # Box001 → Box001 (new body)
    with BuildSketch(Plane.XY):
        with Locations((3.5, 60)):
            Rectangle(BOX001_W, BOX001_H)
    extrude(amount=BOX001_DEPTH)


with BuildPart() as fillet_body_1:
    # Box001 placement: moved
    add(fillet_body.part.moved(Location((60, -2.5, 12))).rotate(Axis((60, -2.5, 12), (0, 0, 1)), BOX001_PLACEMENT_ANGLE))

    # Fillet
    fillet_edges = [fillet_body_1.edges().sort_by_distance(p)[0] for p in [
        (0, -2.5, 19),
        (0, -2.5, 12),
        (0, 4.5, 19),
        (0, 4.5, 12),
    ]]
    fillet(fillet_edges, radius=FILLET_R)


with BuildPart() as fillet001:
    # Box → Box (new body)
    with BuildSketch(Plane(origin=(-2.5, -60, 12), x_dir=(1, 0, 0), z_dir=(0, 0, 1))):
        with Locations((3.5, 60)):
            Rectangle(BOX_W, BOX_H)
    extrude(amount=BOX_DEPTH)

    # Fillet001
    fillet001_edges = [fillet001.edges().sort_by_distance(p)[0] for p in [
        (-2.5, 0, 19),
        (-2.5, 0, 12),
        (4.5, 0, 19),
        (4.5, 0, 12),
    ]]
    fillet(fillet001_edges, radius=FILLET001_R)


with BuildPart() as cylindre009:
    # Cylinder009 → Cylinder009 (new body)
    with BuildSketch(Plane.XY):
        Circle(CYLINDER009_R)
    extrude(amount=CYLINDER009_DEPTH)


with BuildPart() as propulseur:
    # Cylinder008 → Cylinder008 (new body)
    with BuildSketch(Plane.XY):
        Circle(CYLINDER008_R)
    extrude(amount=CYLINDER008_DEPTH)

    # Cut008: cut Cylindre009
    add(cylindre009.part, mode=Mode.SUBTRACT)

    # Cut: cut Fillet001
    add(fillet001.part, mode=Mode.SUBTRACT)

    # Cut009: cut Fillet body
    add(fillet_body_1.part, mode=Mode.SUBTRACT)

    # Fusion001: union visses
    add(visses_2.part)


with BuildPart() as propulseur_1:
    # Fusion001 placement: moved
    add(propulseur.part.moved(Location((0, 0, 6))))


solid = propulseur_1.part
